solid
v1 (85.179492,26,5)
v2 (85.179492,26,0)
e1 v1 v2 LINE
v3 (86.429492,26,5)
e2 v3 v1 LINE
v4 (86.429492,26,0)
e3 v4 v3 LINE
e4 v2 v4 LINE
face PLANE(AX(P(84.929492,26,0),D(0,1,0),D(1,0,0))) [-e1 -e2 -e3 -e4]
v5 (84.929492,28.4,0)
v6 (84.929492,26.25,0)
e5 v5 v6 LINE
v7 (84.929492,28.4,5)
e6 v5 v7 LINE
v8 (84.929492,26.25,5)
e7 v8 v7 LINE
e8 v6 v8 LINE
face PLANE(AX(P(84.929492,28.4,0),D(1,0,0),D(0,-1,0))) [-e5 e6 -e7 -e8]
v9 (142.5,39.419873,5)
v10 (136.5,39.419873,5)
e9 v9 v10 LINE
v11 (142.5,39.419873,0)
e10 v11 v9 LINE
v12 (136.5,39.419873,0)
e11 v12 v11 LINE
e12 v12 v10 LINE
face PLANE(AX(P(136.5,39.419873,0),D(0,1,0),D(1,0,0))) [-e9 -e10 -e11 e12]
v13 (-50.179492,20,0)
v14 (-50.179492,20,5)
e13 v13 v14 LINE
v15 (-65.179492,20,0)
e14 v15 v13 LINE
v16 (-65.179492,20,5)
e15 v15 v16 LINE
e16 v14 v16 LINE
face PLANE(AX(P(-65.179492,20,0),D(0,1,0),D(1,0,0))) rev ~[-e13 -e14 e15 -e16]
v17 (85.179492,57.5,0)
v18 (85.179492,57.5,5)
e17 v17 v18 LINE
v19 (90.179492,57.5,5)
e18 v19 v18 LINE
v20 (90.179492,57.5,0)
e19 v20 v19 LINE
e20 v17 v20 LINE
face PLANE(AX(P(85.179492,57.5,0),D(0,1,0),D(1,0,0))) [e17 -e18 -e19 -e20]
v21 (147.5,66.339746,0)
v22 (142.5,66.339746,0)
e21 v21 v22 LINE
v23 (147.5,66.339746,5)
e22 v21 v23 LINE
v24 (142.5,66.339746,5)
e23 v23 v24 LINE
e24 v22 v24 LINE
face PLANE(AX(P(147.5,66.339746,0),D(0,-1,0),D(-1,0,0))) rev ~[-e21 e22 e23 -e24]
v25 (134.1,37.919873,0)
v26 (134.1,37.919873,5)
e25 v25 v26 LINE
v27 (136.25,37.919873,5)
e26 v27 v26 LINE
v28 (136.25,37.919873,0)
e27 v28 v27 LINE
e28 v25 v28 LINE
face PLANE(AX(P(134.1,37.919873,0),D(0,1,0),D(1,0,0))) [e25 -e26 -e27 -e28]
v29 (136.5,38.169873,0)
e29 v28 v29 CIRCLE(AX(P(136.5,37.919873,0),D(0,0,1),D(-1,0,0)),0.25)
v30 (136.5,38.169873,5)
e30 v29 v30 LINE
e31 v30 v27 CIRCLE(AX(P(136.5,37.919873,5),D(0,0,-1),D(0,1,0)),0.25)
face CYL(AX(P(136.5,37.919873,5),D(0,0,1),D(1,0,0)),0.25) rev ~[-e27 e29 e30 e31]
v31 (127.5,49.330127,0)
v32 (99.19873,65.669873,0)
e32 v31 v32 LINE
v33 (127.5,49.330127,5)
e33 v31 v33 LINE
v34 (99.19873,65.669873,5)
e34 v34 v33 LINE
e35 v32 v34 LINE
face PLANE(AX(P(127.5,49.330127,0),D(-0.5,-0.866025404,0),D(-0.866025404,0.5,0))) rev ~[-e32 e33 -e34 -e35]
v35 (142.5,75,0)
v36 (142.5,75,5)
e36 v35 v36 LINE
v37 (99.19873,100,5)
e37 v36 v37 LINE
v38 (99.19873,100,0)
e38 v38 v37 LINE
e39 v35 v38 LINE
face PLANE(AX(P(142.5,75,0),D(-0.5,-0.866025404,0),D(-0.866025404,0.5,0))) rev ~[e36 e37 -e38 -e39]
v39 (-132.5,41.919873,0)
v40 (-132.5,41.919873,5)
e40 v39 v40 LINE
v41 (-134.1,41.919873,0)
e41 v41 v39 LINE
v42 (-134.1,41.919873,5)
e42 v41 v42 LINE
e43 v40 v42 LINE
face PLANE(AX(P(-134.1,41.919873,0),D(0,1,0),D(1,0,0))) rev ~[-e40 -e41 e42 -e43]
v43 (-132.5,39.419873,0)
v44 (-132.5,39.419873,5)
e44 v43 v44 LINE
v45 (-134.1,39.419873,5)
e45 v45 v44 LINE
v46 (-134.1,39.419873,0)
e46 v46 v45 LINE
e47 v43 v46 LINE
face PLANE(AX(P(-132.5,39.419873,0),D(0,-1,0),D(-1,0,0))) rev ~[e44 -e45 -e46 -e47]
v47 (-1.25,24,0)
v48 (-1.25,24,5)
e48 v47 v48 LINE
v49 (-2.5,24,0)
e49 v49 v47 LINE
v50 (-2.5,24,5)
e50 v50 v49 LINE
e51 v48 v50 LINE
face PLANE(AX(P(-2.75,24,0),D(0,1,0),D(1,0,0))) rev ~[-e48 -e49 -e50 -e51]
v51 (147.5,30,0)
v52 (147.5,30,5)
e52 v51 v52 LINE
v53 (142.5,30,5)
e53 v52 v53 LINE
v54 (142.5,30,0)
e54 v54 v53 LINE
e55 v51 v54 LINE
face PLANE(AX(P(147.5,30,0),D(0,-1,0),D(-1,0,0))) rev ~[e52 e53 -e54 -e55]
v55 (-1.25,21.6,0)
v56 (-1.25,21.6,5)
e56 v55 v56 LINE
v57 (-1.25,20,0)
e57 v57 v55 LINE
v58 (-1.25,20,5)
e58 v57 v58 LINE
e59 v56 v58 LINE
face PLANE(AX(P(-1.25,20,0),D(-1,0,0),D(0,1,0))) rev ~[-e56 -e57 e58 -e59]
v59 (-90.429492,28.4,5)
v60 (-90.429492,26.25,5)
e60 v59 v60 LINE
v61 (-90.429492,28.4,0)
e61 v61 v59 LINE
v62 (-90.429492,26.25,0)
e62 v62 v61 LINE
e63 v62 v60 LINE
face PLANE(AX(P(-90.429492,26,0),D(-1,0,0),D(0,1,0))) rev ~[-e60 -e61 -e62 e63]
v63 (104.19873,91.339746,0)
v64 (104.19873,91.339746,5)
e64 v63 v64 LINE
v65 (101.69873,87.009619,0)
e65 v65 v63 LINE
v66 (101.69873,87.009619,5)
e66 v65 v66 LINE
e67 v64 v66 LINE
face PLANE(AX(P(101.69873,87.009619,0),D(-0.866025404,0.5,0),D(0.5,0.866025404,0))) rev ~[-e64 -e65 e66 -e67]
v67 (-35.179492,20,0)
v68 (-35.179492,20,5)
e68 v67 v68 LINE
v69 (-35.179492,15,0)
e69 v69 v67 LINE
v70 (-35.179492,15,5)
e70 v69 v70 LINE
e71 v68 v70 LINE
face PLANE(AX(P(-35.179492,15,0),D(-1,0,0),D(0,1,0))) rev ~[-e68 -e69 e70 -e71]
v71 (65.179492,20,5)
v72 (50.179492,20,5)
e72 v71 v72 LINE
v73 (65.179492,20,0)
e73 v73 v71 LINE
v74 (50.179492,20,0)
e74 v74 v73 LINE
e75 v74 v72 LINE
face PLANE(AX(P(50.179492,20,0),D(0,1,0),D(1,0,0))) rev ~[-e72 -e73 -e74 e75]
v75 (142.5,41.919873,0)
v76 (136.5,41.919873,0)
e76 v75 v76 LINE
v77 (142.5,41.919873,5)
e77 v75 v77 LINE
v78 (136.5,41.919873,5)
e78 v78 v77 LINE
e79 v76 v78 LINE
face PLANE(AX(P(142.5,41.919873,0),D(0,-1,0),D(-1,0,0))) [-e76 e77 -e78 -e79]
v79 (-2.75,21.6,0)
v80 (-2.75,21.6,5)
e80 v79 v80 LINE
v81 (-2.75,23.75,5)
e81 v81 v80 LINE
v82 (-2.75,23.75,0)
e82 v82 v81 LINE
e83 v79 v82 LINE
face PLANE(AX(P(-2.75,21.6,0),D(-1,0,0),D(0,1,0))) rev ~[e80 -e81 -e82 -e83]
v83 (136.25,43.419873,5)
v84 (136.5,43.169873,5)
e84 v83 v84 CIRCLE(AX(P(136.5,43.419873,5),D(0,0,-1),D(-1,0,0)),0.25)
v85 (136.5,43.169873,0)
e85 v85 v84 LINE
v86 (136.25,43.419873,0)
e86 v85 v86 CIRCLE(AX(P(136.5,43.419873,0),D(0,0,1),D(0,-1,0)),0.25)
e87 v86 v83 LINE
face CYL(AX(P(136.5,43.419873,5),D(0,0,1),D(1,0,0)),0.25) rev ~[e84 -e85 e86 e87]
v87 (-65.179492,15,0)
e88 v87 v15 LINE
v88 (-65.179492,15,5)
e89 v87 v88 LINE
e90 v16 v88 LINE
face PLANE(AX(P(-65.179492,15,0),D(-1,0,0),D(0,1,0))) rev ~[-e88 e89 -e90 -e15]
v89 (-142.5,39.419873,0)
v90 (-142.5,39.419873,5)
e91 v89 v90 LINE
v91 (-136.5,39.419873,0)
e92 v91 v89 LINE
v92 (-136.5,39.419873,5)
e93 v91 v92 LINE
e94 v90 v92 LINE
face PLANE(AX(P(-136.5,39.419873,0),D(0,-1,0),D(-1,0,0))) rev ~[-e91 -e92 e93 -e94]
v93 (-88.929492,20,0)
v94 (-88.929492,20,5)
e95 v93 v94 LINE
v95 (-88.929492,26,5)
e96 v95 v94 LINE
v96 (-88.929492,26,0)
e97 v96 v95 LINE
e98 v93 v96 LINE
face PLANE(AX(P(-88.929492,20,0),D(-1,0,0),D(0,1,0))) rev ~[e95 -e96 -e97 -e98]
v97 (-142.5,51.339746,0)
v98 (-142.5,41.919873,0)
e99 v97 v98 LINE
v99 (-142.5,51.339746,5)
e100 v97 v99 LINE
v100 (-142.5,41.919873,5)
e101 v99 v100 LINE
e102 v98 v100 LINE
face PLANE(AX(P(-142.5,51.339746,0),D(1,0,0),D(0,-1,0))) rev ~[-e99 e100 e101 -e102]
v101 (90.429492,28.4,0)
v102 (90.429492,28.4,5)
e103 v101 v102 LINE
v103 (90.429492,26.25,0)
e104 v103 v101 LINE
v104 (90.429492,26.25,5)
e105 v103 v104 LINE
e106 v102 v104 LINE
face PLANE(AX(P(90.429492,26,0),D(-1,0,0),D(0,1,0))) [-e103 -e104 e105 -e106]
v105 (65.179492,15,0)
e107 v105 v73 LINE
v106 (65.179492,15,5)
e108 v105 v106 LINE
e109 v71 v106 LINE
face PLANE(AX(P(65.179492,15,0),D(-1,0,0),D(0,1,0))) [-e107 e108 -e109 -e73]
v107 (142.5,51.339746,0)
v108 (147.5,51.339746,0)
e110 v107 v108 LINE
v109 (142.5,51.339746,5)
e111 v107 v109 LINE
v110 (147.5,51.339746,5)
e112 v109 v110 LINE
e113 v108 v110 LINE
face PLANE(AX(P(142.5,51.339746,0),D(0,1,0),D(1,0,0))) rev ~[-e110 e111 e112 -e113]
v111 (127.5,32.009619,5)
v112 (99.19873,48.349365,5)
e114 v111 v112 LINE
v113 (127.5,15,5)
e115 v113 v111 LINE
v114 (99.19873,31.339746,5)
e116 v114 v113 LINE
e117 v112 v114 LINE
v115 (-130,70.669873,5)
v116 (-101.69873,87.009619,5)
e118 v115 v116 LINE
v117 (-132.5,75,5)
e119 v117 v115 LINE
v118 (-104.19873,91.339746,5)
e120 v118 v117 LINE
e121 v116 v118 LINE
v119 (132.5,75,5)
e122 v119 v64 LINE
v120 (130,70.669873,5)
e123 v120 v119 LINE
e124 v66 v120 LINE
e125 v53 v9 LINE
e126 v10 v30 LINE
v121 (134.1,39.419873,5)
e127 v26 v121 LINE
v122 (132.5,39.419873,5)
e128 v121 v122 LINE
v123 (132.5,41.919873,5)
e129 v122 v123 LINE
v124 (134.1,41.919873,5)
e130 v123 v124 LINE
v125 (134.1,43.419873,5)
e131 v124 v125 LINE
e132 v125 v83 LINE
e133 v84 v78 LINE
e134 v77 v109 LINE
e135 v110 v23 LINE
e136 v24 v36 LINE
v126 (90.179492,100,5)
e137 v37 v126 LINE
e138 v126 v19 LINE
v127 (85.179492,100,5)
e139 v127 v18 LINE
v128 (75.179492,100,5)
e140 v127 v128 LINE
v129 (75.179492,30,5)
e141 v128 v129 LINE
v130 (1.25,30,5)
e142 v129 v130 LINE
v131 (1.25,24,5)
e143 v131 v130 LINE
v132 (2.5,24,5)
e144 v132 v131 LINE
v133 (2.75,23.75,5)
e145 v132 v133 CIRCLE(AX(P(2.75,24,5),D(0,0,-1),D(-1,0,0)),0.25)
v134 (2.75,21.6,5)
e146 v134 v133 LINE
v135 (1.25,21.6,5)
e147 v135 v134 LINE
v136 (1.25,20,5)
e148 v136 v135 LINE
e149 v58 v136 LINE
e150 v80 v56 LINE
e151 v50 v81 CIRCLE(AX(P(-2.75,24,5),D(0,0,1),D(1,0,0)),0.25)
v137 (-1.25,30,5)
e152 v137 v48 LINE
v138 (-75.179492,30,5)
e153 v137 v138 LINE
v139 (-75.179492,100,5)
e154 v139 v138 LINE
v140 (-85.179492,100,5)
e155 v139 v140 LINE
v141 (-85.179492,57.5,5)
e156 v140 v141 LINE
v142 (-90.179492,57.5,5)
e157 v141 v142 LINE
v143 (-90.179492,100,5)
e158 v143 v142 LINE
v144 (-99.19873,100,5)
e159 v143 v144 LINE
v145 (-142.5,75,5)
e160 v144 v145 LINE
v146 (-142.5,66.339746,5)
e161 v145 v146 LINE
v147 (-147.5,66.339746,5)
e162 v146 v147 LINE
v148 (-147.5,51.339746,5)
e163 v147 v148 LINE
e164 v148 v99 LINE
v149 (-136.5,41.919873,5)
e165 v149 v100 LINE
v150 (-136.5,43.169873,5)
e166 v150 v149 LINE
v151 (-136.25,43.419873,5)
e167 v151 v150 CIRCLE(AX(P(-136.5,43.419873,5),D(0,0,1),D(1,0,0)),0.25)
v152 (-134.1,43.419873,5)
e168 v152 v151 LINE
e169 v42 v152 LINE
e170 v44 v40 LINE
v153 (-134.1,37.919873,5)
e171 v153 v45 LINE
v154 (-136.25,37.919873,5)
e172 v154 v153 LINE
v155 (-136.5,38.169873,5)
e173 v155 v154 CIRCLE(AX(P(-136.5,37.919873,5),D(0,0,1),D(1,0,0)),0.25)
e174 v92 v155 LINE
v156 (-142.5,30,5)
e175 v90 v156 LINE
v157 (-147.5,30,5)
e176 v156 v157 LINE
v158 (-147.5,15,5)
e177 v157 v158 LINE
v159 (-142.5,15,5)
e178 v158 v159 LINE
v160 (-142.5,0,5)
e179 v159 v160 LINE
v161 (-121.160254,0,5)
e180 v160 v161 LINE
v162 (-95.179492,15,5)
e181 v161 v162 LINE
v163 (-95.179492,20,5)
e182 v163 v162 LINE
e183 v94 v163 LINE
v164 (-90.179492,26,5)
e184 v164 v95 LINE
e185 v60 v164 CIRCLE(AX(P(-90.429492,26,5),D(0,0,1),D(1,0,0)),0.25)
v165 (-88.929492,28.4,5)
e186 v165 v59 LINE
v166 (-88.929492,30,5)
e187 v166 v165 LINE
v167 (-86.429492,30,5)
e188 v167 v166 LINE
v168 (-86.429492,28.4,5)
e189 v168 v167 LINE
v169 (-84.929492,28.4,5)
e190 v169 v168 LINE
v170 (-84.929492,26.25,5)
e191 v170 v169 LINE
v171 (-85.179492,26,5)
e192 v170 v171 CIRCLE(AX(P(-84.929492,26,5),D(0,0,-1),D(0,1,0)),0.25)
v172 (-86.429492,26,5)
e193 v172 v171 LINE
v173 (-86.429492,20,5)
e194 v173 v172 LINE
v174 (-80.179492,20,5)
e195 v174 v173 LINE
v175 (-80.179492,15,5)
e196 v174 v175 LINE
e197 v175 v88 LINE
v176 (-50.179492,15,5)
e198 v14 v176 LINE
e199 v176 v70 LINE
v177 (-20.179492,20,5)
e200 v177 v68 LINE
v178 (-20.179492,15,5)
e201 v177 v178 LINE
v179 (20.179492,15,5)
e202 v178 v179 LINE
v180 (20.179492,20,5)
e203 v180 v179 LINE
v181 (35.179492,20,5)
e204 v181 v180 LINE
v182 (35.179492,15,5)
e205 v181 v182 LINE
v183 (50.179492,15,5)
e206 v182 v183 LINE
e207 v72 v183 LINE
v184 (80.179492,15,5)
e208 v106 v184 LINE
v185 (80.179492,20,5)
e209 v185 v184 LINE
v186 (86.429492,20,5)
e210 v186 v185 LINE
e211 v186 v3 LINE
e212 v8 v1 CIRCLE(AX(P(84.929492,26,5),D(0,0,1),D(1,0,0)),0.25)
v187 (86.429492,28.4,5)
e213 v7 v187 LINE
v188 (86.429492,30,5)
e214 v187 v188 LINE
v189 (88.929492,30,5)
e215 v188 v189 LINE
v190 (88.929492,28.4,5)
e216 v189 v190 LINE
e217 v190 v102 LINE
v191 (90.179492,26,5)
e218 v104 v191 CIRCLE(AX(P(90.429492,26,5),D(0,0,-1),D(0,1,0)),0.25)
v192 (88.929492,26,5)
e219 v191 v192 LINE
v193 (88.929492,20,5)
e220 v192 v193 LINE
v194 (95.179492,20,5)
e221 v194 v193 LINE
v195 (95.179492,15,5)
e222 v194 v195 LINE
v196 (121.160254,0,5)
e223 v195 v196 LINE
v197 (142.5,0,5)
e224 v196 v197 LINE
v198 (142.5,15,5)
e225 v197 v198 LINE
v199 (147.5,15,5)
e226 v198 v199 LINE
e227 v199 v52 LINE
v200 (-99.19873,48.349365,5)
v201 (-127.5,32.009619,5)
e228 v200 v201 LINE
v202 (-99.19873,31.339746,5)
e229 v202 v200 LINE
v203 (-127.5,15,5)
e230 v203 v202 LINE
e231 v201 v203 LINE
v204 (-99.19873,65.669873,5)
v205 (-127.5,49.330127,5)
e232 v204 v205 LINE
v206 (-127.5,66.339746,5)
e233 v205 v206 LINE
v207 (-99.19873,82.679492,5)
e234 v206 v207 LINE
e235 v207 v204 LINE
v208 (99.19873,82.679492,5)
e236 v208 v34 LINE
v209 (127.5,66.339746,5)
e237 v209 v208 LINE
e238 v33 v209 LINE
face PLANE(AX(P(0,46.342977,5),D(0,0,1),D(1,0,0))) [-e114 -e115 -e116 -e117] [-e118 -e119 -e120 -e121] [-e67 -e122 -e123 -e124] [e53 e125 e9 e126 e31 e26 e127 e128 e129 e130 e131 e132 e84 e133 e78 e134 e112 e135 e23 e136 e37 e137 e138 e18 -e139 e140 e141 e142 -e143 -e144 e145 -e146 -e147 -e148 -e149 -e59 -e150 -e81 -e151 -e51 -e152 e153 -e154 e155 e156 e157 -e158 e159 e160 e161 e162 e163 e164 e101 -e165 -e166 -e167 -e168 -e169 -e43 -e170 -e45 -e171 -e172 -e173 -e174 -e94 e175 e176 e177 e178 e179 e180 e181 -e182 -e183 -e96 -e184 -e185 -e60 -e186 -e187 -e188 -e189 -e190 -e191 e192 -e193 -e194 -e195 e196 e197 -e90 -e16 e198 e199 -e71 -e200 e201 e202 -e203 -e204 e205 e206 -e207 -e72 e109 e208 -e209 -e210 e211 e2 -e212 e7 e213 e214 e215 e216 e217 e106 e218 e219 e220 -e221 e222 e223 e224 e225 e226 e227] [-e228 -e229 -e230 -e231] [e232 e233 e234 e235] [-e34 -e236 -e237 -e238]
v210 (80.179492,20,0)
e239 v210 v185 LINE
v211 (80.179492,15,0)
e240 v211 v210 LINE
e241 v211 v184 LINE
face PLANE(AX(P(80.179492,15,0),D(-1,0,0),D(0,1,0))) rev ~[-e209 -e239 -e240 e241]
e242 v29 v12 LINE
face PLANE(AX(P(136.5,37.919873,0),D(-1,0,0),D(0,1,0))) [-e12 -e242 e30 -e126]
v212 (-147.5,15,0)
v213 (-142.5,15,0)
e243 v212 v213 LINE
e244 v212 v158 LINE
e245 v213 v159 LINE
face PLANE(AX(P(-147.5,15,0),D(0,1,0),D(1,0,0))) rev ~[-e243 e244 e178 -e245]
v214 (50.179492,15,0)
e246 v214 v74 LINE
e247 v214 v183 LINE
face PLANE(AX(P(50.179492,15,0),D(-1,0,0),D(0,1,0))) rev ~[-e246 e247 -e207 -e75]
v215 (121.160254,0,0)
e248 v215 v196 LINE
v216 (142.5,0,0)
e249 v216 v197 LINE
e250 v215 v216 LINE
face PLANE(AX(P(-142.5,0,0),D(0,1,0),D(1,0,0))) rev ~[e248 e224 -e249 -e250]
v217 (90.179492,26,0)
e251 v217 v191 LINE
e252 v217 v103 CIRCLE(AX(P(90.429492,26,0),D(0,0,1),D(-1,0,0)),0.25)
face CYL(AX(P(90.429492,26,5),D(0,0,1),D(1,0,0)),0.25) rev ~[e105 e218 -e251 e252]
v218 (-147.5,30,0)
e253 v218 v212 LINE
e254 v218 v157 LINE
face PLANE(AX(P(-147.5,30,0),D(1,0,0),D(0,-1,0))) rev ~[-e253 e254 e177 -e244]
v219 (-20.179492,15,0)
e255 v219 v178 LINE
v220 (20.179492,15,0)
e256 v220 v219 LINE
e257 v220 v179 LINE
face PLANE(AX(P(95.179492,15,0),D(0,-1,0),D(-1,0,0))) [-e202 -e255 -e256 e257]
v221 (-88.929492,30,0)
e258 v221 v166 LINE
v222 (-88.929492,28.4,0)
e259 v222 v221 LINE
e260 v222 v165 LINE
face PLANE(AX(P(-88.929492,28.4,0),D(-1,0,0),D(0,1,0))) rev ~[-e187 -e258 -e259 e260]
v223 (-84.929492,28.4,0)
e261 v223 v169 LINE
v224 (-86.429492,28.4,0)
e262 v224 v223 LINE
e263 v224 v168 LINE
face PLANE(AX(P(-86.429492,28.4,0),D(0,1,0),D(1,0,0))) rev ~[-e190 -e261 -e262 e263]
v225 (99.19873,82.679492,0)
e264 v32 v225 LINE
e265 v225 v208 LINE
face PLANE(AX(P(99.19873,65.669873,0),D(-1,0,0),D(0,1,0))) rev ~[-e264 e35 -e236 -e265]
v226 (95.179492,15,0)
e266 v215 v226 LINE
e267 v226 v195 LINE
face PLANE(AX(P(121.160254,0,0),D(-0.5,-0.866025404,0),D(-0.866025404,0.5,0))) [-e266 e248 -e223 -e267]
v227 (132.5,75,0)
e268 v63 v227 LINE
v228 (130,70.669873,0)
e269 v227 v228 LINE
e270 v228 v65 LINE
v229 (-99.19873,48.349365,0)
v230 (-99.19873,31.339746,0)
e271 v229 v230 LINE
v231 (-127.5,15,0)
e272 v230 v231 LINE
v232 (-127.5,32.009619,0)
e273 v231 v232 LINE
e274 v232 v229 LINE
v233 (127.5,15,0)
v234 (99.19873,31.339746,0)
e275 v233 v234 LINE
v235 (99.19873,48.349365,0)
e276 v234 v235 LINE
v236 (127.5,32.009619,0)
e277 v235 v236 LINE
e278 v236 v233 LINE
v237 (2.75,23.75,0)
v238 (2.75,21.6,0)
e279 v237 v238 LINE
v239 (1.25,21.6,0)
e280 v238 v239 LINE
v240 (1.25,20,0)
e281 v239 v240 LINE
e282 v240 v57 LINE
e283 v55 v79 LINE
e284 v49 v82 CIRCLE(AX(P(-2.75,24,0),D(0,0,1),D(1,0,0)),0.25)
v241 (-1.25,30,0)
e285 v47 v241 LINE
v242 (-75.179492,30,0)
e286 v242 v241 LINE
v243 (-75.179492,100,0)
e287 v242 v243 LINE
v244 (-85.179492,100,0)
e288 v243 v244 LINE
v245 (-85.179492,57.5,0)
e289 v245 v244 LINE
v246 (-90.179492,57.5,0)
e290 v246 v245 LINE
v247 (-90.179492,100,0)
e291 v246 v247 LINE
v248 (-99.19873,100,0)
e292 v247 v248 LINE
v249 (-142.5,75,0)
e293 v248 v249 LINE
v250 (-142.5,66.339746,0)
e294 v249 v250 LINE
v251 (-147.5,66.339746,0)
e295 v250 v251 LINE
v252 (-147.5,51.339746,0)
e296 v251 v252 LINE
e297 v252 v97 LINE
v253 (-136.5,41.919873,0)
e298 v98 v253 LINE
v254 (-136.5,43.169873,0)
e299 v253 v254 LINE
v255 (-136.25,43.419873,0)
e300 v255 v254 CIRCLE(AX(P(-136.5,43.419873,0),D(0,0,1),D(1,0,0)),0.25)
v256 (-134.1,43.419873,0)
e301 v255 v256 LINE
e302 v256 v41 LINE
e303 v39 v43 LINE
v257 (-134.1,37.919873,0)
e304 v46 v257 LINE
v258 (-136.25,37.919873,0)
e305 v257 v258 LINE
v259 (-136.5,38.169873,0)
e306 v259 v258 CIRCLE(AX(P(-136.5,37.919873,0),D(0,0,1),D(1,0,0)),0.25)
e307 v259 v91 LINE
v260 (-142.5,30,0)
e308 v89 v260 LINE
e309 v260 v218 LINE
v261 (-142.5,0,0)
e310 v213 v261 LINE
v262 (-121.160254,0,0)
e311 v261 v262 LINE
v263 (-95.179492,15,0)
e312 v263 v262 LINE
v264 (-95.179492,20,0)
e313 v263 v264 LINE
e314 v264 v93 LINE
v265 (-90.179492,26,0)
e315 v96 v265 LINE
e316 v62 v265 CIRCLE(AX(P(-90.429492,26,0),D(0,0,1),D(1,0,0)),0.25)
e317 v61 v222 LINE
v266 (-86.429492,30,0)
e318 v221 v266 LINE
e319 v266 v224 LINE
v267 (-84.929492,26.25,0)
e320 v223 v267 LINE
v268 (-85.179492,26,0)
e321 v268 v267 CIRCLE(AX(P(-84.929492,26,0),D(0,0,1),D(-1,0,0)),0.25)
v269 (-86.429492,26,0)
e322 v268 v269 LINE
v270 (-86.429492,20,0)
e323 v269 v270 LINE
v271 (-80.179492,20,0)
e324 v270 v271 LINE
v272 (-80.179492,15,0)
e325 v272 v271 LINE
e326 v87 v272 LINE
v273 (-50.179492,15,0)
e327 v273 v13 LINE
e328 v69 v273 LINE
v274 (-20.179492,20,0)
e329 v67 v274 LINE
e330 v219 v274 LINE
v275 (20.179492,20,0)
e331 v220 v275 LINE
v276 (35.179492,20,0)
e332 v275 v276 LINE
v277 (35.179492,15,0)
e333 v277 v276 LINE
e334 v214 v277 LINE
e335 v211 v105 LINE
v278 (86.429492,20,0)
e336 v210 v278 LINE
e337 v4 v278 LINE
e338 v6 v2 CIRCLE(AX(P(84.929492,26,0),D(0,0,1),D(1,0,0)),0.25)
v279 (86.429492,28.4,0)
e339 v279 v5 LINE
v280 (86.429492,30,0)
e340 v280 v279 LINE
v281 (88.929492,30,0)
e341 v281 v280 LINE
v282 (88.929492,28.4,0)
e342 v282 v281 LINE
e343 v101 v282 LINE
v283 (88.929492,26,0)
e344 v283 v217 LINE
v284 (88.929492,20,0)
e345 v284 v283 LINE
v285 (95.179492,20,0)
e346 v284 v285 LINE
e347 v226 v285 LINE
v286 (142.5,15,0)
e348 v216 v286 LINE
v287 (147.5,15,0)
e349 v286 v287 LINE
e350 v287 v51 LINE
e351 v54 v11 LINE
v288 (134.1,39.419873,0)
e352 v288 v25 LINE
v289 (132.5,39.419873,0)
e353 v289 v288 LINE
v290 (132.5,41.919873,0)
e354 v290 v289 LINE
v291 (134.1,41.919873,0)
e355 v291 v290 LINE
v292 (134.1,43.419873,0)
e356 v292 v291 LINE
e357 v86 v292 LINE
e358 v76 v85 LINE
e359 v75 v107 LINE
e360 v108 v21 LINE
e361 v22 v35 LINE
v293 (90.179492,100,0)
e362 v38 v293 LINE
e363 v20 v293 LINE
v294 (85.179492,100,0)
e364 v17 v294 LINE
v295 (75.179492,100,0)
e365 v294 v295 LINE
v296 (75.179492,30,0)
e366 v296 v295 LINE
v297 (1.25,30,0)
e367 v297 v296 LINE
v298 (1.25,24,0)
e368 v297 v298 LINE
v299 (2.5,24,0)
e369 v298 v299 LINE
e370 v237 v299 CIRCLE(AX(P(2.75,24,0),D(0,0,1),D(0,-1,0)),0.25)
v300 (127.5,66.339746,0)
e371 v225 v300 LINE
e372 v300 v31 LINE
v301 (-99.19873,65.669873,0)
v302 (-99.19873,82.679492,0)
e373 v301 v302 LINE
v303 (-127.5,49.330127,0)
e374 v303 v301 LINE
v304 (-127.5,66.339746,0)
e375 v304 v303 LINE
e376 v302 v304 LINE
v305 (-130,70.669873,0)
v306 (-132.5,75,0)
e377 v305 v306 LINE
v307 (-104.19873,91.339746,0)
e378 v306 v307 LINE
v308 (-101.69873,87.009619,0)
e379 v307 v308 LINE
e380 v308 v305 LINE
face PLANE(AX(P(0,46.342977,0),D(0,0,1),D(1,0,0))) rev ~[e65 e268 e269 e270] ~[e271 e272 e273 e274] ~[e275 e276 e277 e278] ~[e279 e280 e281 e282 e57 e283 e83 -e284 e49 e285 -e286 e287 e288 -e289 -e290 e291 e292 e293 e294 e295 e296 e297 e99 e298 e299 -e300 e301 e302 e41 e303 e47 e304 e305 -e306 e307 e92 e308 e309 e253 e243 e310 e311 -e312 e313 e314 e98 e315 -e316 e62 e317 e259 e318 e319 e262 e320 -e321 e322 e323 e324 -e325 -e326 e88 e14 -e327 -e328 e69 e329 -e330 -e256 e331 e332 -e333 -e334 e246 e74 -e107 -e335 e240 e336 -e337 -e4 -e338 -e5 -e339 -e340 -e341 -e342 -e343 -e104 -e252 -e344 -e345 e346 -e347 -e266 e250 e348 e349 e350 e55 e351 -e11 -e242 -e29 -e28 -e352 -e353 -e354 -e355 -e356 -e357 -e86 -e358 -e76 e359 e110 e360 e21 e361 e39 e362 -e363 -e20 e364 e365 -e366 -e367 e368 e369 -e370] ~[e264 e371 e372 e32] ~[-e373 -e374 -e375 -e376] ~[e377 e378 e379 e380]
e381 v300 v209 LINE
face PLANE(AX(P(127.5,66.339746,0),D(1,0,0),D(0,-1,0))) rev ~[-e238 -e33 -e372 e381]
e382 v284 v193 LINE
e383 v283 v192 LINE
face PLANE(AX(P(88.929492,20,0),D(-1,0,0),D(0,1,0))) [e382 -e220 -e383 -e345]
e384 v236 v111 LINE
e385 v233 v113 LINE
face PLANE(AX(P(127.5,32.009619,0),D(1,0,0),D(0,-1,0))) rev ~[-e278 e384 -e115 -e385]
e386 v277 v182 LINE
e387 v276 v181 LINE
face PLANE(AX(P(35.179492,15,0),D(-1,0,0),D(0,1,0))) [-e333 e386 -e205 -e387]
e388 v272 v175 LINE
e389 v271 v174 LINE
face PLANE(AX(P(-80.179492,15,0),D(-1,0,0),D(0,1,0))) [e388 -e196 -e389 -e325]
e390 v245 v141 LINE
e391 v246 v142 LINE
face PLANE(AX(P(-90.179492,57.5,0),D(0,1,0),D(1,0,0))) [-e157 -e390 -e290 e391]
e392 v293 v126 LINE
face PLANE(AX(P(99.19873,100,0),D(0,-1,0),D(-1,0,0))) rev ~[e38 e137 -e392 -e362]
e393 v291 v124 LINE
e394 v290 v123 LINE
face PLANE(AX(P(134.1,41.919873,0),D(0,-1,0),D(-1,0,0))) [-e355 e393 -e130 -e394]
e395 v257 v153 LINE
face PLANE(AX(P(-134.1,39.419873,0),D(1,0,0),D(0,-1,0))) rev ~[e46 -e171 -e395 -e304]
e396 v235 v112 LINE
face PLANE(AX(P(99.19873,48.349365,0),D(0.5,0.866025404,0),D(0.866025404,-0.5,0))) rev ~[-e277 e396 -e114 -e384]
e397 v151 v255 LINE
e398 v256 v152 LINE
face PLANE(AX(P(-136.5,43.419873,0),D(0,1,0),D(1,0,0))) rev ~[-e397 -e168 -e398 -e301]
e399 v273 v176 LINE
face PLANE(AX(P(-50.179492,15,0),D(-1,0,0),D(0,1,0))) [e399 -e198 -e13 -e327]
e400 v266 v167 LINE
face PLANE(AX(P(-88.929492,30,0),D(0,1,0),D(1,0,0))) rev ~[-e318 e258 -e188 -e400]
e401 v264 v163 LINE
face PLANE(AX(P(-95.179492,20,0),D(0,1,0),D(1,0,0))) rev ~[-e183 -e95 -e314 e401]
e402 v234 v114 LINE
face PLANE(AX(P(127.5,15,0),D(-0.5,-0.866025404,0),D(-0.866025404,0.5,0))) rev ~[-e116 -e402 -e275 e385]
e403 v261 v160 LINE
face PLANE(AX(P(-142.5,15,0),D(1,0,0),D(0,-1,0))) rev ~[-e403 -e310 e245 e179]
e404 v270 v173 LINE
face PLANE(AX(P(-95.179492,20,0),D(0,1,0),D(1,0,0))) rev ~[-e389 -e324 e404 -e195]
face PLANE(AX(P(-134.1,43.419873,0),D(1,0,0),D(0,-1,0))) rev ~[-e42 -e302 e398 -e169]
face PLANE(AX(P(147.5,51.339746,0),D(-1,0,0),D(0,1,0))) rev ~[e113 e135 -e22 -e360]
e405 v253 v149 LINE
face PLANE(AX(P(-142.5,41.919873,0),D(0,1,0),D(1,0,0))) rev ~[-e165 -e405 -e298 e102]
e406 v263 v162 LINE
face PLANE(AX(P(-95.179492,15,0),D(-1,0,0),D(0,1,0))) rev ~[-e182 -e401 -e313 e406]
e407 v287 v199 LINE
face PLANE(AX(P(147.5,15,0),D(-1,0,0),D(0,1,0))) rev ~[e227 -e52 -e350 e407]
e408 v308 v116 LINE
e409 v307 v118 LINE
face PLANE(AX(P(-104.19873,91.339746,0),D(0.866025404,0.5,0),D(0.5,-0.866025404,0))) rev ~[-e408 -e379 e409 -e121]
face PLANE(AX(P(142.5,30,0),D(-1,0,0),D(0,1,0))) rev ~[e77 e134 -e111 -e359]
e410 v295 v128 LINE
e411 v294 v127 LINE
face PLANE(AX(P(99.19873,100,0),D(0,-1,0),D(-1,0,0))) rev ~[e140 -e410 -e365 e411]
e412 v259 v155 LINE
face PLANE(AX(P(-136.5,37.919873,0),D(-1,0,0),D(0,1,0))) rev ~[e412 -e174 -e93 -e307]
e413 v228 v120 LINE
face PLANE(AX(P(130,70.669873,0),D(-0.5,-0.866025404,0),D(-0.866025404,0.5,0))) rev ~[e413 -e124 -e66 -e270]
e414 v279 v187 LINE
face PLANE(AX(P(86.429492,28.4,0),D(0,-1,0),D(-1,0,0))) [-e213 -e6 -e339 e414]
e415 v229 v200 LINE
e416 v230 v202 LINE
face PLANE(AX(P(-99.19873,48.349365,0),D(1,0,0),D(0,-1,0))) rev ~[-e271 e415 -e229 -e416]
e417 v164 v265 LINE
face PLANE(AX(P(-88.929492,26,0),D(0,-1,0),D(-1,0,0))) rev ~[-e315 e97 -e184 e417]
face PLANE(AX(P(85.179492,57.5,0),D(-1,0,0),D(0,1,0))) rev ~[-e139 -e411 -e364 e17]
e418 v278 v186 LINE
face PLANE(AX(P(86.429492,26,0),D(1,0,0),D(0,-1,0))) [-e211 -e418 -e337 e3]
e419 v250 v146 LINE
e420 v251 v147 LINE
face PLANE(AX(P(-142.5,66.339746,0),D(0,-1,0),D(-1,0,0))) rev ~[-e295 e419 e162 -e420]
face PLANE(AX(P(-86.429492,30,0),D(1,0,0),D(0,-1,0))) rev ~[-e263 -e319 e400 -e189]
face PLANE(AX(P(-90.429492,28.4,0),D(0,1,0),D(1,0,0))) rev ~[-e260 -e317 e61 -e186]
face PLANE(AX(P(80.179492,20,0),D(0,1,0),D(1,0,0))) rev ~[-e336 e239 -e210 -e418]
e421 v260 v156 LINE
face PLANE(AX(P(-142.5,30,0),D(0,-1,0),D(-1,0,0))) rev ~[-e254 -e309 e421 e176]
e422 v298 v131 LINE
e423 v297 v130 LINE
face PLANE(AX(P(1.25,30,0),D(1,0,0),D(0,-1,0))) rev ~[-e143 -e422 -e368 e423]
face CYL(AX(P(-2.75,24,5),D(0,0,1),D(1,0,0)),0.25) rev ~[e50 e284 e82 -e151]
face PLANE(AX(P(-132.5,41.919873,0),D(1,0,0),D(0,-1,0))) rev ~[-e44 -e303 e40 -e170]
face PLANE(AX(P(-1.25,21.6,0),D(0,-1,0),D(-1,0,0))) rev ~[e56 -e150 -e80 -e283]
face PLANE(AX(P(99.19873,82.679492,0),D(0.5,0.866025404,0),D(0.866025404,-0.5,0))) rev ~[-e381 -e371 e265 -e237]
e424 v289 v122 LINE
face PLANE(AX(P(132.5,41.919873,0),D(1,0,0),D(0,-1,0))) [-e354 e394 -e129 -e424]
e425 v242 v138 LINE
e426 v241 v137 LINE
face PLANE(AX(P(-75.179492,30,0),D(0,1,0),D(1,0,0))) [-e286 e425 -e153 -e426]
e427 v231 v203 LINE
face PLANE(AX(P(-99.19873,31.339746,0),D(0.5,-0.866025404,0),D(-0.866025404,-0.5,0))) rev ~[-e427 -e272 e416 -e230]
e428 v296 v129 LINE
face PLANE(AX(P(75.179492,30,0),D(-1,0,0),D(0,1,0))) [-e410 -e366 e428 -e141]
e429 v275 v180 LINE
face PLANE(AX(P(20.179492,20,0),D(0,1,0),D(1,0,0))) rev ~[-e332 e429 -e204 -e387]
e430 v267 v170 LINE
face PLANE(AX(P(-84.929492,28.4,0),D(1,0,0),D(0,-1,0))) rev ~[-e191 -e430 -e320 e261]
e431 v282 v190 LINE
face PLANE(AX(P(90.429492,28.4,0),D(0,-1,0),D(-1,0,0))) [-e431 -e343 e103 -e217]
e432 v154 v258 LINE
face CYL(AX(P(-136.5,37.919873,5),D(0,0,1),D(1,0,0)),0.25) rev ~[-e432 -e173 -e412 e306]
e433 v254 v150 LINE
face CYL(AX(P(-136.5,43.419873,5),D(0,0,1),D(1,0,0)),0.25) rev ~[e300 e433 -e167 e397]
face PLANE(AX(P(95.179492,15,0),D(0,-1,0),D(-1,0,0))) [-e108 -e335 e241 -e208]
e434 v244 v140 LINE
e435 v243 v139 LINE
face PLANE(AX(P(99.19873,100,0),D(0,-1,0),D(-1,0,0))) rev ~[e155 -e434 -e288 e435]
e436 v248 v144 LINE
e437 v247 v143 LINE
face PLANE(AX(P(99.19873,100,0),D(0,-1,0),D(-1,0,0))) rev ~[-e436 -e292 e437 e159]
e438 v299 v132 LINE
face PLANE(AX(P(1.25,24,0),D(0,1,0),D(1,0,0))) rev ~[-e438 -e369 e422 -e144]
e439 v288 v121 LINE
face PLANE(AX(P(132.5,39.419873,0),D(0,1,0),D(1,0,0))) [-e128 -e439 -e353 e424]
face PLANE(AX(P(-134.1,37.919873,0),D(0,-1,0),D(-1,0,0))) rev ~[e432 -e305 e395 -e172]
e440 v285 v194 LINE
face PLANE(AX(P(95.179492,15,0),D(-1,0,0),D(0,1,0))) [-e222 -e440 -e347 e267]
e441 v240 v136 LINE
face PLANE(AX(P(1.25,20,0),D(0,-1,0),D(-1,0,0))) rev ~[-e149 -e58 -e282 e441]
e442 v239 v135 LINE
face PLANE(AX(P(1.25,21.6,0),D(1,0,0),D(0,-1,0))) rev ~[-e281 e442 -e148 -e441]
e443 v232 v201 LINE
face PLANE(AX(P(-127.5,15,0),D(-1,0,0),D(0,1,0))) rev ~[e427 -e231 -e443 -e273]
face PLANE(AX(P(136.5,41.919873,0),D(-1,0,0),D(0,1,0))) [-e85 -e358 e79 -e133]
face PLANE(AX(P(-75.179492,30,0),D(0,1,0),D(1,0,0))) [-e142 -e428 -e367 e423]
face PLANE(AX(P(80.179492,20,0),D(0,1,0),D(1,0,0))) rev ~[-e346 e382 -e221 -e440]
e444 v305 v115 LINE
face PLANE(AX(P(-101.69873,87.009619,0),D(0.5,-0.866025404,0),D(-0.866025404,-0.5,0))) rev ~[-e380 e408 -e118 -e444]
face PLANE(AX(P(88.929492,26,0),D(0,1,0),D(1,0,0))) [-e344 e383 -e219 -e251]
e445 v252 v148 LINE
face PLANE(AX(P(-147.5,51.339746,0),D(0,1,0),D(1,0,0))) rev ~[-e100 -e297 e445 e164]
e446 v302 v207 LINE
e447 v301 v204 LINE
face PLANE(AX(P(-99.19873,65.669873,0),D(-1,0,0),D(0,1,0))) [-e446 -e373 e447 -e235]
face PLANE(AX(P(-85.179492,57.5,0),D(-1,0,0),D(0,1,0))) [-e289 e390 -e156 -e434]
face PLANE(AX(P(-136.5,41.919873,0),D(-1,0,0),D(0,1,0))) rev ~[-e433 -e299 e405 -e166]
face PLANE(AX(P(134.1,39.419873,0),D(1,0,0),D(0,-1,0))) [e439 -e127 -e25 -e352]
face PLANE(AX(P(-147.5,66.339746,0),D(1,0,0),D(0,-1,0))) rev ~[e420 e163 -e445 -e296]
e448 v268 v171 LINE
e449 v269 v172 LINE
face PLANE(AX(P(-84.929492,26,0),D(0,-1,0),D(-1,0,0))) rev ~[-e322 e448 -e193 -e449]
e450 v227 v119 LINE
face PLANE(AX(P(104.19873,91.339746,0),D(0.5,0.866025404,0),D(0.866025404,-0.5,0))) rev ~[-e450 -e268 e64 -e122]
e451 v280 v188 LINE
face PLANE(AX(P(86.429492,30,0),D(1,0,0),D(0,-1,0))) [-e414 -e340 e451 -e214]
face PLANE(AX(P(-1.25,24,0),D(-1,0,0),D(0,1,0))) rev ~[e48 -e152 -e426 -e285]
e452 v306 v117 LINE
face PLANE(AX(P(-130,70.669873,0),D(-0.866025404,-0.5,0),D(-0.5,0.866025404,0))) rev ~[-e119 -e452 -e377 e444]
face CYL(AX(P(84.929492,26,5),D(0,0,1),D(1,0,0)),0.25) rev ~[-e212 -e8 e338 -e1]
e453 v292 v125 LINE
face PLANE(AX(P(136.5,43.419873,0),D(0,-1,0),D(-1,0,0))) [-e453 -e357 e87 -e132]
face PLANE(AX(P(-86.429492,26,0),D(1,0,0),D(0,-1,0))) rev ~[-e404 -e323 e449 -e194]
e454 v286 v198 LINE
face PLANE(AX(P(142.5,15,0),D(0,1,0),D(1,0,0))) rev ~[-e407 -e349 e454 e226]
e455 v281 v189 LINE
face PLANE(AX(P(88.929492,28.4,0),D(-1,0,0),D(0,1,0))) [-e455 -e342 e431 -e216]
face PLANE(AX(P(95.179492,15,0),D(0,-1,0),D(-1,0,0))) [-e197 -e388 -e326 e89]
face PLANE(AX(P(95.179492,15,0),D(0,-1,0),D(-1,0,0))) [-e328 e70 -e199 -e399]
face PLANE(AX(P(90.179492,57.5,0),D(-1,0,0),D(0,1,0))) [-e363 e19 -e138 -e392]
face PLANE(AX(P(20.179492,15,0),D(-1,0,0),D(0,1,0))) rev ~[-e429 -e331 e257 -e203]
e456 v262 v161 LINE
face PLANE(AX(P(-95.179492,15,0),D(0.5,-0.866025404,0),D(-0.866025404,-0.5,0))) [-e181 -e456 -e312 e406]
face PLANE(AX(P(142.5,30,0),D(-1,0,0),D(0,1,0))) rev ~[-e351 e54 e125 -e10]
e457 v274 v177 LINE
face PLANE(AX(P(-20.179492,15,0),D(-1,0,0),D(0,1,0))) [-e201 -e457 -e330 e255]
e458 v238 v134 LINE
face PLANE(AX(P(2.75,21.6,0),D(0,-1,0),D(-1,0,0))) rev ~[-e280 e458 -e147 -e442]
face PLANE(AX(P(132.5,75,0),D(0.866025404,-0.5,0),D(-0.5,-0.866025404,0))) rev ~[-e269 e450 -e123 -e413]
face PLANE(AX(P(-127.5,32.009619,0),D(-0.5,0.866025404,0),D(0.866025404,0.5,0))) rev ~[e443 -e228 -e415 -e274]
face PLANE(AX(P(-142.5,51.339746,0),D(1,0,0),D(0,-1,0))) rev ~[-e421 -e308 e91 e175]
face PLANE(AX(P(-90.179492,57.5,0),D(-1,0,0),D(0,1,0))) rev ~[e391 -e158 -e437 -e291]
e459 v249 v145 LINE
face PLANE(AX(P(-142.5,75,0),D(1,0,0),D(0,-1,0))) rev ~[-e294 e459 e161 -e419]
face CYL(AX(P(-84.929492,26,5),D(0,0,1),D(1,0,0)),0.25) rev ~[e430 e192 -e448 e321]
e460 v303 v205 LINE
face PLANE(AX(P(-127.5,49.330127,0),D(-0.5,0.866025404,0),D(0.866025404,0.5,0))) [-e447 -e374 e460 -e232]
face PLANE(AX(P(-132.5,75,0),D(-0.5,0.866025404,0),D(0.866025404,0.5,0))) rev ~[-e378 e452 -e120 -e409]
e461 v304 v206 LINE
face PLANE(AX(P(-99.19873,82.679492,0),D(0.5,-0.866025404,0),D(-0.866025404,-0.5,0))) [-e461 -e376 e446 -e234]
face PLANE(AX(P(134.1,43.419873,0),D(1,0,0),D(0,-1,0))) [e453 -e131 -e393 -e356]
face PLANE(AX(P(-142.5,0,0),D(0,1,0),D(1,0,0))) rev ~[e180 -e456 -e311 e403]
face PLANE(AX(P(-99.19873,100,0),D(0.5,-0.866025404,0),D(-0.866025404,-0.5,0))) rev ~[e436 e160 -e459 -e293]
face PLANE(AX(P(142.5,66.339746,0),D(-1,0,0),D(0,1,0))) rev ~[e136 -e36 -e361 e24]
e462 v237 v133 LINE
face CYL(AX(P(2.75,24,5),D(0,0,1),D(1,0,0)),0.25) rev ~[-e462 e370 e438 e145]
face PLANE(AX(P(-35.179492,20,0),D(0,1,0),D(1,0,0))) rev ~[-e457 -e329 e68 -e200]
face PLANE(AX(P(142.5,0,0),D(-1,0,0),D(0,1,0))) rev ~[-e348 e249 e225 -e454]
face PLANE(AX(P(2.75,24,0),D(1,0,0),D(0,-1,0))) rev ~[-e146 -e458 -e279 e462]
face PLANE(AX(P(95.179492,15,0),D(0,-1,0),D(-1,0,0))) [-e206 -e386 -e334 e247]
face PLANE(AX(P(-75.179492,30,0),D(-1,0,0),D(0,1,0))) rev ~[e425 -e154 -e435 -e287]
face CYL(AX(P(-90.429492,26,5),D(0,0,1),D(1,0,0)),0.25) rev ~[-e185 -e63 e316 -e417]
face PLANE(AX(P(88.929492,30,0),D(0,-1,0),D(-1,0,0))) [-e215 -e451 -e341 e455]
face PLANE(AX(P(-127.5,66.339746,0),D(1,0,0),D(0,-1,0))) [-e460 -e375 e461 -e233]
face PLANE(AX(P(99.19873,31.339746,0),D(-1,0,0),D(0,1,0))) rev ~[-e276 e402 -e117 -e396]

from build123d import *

# Parameters (mm, degrees)
ESTRUSIONE_ESTRUSIONE1_DEPTH = 5
TAGLIO_ESTRUSIONE2_DEPTH     = 6
SCHIZZO5_W                   = 15
SCHIZZO5_H                   = 5
SCHIZZO5_W_2                 = 5
SCHIZZO5_H_2                 = 42.5
SCHIZZO5_W_3                 = 150.358983848
SCHIZZO5_H_3                 = 70
TAGLIO_ESTRUSIONE3_DEPTH     = 6
TAGLIO_ESTRUSIONE4_DEPTH     = 6
SCHIZZO7_R                   = 0.25
TAGLIO_ESTRUSIONE5_DEPTH     = 10


with BuildPart() as part:
    # Schizzo1 → Estrusione-Estrusione1 (new body)
    with BuildSketch(Plane.XY):
        Polygon((-142.5, 75), (-142.5, 66.339745962), (-147.5, 66.339745962), (-147.5, 51.339745962), (-142.5, 51.339745962), (-142.5, 30), (-147.5, 30), (-147.5, 15), (-142.5, 15), (-142.5, 0), (142.5, 0), (142.5, 15), (147.5, 15), (147.5, 30), (142.5, 30), (142.5, 51.339745962), (147.5, 51.339745962), (147.5, 66.339745962), (142.5, 66.339745962), (142.5, 75), (99.198729811, 100), (-99.198729811, 100), align=None)
    extrude(amount=ESTRUSIONE_ESTRUSIONE1_DEPTH)

    # Schizzo2 → Taglio-Estrusione2 (cut, through all)
    with BuildSketch(Plane.XY):
        Polygon((-99.198729811, 82.679491924), (-127.5, 66.339745962), (-127.5, 49.330127019), (-99.198729811, 65.669872981), align=None)
        Polygon((99.198729811, 31.339745962), (99.198729811, 48.349364905), (127.5, 32.009618943), (127.5, 15), align=None)
        Polygon((-95.179491924, 15), (-121.160254038, 0), (121.160254038, 0), (95.179491924, 15), align=None)
        Polygon((-99.198729811, 31.339745962), (-127.5, 15), (-127.5, 32.009618943), (-99.198729811, 48.349364905), align=None)
        Polygon((99.198729811, 65.669872981), (99.198729811, 82.679491924), (127.5, 66.339745962), (127.5, 49.330127019), align=None)
        Polygon((-132.5, 75), (-104.198729811, 91.339745962), (-101.698729811, 87.009618943), (-130, 70.669872981), align=None)
        Polygon((132.5, 75), (130, 70.669872981), (101.698729811, 87.009618943), (104.198729811, 91.339745962), align=None)
    extrude(amount=TAGLIO_ESTRUSIONE2_DEPTH, mode=Mode.SUBTRACT)

    # Schizzo5 → Taglio-Estrusione3 (cut, through all)
    with BuildSketch(Plane.XY):
        with Locations((-87.679491924, 17.5)):
            Rectangle(SCHIZZO5_W, SCHIZZO5_H)
        with Locations((-57.679491924, 17.5)):
            Rectangle(SCHIZZO5_W, SCHIZZO5_H)
        with Locations((-27.679491924, 17.5)):
            Rectangle(SCHIZZO5_W, SCHIZZO5_H)
        with Locations((27.679491924, 17.5)):
            Rectangle(SCHIZZO5_W, SCHIZZO5_H)
        with Locations((57.679491924, 17.5)):
            Rectangle(SCHIZZO5_W, SCHIZZO5_H)
        with Locations((87.679491924, 17.5)):
            Rectangle(SCHIZZO5_W, SCHIZZO5_H)
        with Locations((87.679491924, 78.75)):
            Rectangle(SCHIZZO5_W_2, SCHIZZO5_H_2)
        with Locations((-87.679491924, 78.75)):
            Rectangle(SCHIZZO5_W_2, SCHIZZO5_H_2)
        with Locations((0, 65)):
            Rectangle(SCHIZZO5_W_3, SCHIZZO5_H_3)
    extrude(amount=TAGLIO_ESTRUSIONE3_DEPTH, mode=Mode.SUBTRACT)

    # Schizzo6 → Taglio-Estrusione4 (cut, through all)
    with BuildSketch(Plane.XY):
        Polygon((-142.5, 41.919872981), (-136.5, 41.919872981), (-136.5, 43.419872981), (-134.1, 43.419872981), (-134.1, 41.919872981), (-132.5, 41.919872981), (-132.5, 39.419872981), (-134.1, 39.419872981), (-134.1, 37.919872981), (-136.5, 37.919872981), (-136.5, 39.419872981), (-142.5, 39.419872981), align=None)
        Polygon((134.1, 43.419872981), (134.1, 41.919872981), (132.5, 41.919872981), (132.5, 39.419872981), (134.1, 39.419872981), (134.1, 37.919872981), (136.5, 37.919872981), (136.5, 39.419872981), (142.5, 39.419872981), (142.5, 41.919872981), (136.5, 41.919872981), (136.5, 43.419872981), align=None)
        Polygon((-88.929491924, 20), (-88.929491924, 26), (-90.429491924, 26), (-90.429491924, 28.4), (-88.929491924, 28.4), (-88.929491924, 30), (-86.429491924, 30), (-86.429491924, 28.4), (-84.929491924, 28.4), (-84.929491924, 26), (-86.429491924, 26), (-86.429491924, 20), align=None)
        Polygon((86.429491924, 20), (88.929491924, 20), (88.929491924, 26), (90.429491924, 26), (90.429491924, 28.4), (88.929491924, 28.4), (88.929491924, 30), (86.429491924, 30), (86.429491924, 28.4), (84.929491924, 28.4), (84.929491924, 26), (86.429491924, 26), align=None)
        Polygon((-1.25, 20), (-1.25, 21.6), (-2.75, 21.6), (-2.75, 24), (-1.25, 24), (-1.25, 30), (1.25, 30), (1.25, 24), (2.75, 24), (2.75, 21.6), (1.25, 21.6), (1.25, 20), align=None)
    extrude(amount=TAGLIO_ESTRUSIONE4_DEPTH, mode=Mode.SUBTRACT)

    # Schizzo7 → Taglio-Estrusione5 (cut)
    with BuildSketch(Plane.XY.offset(5)):
        with Locations((-136.5, 43.419872981)):
            Circle(SCHIZZO7_R)
        with Locations((-136.5, 37.919872981)):
            Circle(SCHIZZO7_R)
        with Locations((-90.429491924, 26)):
            Circle(SCHIZZO7_R)
        with Locations((-84.929491924, 26)):
            Circle(SCHIZZO7_R)
        with Locations((-2.75, 24)):
            Circle(SCHIZZO7_R)
        with Locations((2.75, 24)):
            Circle(SCHIZZO7_R)
        with Locations((84.929491924, 26)):
            Circle(SCHIZZO7_R)
        with Locations((90.429491924, 26)):
            Circle(SCHIZZO7_R)
        with Locations((136.5, 43.419872981)):
            Circle(SCHIZZO7_R)
        with Locations((136.5, 37.919872981)):
            Circle(SCHIZZO7_R)
    extrude(amount=-TAGLIO_ESTRUSIONE5_DEPTH, mode=Mode.SUBTRACT)


solid = part.part
